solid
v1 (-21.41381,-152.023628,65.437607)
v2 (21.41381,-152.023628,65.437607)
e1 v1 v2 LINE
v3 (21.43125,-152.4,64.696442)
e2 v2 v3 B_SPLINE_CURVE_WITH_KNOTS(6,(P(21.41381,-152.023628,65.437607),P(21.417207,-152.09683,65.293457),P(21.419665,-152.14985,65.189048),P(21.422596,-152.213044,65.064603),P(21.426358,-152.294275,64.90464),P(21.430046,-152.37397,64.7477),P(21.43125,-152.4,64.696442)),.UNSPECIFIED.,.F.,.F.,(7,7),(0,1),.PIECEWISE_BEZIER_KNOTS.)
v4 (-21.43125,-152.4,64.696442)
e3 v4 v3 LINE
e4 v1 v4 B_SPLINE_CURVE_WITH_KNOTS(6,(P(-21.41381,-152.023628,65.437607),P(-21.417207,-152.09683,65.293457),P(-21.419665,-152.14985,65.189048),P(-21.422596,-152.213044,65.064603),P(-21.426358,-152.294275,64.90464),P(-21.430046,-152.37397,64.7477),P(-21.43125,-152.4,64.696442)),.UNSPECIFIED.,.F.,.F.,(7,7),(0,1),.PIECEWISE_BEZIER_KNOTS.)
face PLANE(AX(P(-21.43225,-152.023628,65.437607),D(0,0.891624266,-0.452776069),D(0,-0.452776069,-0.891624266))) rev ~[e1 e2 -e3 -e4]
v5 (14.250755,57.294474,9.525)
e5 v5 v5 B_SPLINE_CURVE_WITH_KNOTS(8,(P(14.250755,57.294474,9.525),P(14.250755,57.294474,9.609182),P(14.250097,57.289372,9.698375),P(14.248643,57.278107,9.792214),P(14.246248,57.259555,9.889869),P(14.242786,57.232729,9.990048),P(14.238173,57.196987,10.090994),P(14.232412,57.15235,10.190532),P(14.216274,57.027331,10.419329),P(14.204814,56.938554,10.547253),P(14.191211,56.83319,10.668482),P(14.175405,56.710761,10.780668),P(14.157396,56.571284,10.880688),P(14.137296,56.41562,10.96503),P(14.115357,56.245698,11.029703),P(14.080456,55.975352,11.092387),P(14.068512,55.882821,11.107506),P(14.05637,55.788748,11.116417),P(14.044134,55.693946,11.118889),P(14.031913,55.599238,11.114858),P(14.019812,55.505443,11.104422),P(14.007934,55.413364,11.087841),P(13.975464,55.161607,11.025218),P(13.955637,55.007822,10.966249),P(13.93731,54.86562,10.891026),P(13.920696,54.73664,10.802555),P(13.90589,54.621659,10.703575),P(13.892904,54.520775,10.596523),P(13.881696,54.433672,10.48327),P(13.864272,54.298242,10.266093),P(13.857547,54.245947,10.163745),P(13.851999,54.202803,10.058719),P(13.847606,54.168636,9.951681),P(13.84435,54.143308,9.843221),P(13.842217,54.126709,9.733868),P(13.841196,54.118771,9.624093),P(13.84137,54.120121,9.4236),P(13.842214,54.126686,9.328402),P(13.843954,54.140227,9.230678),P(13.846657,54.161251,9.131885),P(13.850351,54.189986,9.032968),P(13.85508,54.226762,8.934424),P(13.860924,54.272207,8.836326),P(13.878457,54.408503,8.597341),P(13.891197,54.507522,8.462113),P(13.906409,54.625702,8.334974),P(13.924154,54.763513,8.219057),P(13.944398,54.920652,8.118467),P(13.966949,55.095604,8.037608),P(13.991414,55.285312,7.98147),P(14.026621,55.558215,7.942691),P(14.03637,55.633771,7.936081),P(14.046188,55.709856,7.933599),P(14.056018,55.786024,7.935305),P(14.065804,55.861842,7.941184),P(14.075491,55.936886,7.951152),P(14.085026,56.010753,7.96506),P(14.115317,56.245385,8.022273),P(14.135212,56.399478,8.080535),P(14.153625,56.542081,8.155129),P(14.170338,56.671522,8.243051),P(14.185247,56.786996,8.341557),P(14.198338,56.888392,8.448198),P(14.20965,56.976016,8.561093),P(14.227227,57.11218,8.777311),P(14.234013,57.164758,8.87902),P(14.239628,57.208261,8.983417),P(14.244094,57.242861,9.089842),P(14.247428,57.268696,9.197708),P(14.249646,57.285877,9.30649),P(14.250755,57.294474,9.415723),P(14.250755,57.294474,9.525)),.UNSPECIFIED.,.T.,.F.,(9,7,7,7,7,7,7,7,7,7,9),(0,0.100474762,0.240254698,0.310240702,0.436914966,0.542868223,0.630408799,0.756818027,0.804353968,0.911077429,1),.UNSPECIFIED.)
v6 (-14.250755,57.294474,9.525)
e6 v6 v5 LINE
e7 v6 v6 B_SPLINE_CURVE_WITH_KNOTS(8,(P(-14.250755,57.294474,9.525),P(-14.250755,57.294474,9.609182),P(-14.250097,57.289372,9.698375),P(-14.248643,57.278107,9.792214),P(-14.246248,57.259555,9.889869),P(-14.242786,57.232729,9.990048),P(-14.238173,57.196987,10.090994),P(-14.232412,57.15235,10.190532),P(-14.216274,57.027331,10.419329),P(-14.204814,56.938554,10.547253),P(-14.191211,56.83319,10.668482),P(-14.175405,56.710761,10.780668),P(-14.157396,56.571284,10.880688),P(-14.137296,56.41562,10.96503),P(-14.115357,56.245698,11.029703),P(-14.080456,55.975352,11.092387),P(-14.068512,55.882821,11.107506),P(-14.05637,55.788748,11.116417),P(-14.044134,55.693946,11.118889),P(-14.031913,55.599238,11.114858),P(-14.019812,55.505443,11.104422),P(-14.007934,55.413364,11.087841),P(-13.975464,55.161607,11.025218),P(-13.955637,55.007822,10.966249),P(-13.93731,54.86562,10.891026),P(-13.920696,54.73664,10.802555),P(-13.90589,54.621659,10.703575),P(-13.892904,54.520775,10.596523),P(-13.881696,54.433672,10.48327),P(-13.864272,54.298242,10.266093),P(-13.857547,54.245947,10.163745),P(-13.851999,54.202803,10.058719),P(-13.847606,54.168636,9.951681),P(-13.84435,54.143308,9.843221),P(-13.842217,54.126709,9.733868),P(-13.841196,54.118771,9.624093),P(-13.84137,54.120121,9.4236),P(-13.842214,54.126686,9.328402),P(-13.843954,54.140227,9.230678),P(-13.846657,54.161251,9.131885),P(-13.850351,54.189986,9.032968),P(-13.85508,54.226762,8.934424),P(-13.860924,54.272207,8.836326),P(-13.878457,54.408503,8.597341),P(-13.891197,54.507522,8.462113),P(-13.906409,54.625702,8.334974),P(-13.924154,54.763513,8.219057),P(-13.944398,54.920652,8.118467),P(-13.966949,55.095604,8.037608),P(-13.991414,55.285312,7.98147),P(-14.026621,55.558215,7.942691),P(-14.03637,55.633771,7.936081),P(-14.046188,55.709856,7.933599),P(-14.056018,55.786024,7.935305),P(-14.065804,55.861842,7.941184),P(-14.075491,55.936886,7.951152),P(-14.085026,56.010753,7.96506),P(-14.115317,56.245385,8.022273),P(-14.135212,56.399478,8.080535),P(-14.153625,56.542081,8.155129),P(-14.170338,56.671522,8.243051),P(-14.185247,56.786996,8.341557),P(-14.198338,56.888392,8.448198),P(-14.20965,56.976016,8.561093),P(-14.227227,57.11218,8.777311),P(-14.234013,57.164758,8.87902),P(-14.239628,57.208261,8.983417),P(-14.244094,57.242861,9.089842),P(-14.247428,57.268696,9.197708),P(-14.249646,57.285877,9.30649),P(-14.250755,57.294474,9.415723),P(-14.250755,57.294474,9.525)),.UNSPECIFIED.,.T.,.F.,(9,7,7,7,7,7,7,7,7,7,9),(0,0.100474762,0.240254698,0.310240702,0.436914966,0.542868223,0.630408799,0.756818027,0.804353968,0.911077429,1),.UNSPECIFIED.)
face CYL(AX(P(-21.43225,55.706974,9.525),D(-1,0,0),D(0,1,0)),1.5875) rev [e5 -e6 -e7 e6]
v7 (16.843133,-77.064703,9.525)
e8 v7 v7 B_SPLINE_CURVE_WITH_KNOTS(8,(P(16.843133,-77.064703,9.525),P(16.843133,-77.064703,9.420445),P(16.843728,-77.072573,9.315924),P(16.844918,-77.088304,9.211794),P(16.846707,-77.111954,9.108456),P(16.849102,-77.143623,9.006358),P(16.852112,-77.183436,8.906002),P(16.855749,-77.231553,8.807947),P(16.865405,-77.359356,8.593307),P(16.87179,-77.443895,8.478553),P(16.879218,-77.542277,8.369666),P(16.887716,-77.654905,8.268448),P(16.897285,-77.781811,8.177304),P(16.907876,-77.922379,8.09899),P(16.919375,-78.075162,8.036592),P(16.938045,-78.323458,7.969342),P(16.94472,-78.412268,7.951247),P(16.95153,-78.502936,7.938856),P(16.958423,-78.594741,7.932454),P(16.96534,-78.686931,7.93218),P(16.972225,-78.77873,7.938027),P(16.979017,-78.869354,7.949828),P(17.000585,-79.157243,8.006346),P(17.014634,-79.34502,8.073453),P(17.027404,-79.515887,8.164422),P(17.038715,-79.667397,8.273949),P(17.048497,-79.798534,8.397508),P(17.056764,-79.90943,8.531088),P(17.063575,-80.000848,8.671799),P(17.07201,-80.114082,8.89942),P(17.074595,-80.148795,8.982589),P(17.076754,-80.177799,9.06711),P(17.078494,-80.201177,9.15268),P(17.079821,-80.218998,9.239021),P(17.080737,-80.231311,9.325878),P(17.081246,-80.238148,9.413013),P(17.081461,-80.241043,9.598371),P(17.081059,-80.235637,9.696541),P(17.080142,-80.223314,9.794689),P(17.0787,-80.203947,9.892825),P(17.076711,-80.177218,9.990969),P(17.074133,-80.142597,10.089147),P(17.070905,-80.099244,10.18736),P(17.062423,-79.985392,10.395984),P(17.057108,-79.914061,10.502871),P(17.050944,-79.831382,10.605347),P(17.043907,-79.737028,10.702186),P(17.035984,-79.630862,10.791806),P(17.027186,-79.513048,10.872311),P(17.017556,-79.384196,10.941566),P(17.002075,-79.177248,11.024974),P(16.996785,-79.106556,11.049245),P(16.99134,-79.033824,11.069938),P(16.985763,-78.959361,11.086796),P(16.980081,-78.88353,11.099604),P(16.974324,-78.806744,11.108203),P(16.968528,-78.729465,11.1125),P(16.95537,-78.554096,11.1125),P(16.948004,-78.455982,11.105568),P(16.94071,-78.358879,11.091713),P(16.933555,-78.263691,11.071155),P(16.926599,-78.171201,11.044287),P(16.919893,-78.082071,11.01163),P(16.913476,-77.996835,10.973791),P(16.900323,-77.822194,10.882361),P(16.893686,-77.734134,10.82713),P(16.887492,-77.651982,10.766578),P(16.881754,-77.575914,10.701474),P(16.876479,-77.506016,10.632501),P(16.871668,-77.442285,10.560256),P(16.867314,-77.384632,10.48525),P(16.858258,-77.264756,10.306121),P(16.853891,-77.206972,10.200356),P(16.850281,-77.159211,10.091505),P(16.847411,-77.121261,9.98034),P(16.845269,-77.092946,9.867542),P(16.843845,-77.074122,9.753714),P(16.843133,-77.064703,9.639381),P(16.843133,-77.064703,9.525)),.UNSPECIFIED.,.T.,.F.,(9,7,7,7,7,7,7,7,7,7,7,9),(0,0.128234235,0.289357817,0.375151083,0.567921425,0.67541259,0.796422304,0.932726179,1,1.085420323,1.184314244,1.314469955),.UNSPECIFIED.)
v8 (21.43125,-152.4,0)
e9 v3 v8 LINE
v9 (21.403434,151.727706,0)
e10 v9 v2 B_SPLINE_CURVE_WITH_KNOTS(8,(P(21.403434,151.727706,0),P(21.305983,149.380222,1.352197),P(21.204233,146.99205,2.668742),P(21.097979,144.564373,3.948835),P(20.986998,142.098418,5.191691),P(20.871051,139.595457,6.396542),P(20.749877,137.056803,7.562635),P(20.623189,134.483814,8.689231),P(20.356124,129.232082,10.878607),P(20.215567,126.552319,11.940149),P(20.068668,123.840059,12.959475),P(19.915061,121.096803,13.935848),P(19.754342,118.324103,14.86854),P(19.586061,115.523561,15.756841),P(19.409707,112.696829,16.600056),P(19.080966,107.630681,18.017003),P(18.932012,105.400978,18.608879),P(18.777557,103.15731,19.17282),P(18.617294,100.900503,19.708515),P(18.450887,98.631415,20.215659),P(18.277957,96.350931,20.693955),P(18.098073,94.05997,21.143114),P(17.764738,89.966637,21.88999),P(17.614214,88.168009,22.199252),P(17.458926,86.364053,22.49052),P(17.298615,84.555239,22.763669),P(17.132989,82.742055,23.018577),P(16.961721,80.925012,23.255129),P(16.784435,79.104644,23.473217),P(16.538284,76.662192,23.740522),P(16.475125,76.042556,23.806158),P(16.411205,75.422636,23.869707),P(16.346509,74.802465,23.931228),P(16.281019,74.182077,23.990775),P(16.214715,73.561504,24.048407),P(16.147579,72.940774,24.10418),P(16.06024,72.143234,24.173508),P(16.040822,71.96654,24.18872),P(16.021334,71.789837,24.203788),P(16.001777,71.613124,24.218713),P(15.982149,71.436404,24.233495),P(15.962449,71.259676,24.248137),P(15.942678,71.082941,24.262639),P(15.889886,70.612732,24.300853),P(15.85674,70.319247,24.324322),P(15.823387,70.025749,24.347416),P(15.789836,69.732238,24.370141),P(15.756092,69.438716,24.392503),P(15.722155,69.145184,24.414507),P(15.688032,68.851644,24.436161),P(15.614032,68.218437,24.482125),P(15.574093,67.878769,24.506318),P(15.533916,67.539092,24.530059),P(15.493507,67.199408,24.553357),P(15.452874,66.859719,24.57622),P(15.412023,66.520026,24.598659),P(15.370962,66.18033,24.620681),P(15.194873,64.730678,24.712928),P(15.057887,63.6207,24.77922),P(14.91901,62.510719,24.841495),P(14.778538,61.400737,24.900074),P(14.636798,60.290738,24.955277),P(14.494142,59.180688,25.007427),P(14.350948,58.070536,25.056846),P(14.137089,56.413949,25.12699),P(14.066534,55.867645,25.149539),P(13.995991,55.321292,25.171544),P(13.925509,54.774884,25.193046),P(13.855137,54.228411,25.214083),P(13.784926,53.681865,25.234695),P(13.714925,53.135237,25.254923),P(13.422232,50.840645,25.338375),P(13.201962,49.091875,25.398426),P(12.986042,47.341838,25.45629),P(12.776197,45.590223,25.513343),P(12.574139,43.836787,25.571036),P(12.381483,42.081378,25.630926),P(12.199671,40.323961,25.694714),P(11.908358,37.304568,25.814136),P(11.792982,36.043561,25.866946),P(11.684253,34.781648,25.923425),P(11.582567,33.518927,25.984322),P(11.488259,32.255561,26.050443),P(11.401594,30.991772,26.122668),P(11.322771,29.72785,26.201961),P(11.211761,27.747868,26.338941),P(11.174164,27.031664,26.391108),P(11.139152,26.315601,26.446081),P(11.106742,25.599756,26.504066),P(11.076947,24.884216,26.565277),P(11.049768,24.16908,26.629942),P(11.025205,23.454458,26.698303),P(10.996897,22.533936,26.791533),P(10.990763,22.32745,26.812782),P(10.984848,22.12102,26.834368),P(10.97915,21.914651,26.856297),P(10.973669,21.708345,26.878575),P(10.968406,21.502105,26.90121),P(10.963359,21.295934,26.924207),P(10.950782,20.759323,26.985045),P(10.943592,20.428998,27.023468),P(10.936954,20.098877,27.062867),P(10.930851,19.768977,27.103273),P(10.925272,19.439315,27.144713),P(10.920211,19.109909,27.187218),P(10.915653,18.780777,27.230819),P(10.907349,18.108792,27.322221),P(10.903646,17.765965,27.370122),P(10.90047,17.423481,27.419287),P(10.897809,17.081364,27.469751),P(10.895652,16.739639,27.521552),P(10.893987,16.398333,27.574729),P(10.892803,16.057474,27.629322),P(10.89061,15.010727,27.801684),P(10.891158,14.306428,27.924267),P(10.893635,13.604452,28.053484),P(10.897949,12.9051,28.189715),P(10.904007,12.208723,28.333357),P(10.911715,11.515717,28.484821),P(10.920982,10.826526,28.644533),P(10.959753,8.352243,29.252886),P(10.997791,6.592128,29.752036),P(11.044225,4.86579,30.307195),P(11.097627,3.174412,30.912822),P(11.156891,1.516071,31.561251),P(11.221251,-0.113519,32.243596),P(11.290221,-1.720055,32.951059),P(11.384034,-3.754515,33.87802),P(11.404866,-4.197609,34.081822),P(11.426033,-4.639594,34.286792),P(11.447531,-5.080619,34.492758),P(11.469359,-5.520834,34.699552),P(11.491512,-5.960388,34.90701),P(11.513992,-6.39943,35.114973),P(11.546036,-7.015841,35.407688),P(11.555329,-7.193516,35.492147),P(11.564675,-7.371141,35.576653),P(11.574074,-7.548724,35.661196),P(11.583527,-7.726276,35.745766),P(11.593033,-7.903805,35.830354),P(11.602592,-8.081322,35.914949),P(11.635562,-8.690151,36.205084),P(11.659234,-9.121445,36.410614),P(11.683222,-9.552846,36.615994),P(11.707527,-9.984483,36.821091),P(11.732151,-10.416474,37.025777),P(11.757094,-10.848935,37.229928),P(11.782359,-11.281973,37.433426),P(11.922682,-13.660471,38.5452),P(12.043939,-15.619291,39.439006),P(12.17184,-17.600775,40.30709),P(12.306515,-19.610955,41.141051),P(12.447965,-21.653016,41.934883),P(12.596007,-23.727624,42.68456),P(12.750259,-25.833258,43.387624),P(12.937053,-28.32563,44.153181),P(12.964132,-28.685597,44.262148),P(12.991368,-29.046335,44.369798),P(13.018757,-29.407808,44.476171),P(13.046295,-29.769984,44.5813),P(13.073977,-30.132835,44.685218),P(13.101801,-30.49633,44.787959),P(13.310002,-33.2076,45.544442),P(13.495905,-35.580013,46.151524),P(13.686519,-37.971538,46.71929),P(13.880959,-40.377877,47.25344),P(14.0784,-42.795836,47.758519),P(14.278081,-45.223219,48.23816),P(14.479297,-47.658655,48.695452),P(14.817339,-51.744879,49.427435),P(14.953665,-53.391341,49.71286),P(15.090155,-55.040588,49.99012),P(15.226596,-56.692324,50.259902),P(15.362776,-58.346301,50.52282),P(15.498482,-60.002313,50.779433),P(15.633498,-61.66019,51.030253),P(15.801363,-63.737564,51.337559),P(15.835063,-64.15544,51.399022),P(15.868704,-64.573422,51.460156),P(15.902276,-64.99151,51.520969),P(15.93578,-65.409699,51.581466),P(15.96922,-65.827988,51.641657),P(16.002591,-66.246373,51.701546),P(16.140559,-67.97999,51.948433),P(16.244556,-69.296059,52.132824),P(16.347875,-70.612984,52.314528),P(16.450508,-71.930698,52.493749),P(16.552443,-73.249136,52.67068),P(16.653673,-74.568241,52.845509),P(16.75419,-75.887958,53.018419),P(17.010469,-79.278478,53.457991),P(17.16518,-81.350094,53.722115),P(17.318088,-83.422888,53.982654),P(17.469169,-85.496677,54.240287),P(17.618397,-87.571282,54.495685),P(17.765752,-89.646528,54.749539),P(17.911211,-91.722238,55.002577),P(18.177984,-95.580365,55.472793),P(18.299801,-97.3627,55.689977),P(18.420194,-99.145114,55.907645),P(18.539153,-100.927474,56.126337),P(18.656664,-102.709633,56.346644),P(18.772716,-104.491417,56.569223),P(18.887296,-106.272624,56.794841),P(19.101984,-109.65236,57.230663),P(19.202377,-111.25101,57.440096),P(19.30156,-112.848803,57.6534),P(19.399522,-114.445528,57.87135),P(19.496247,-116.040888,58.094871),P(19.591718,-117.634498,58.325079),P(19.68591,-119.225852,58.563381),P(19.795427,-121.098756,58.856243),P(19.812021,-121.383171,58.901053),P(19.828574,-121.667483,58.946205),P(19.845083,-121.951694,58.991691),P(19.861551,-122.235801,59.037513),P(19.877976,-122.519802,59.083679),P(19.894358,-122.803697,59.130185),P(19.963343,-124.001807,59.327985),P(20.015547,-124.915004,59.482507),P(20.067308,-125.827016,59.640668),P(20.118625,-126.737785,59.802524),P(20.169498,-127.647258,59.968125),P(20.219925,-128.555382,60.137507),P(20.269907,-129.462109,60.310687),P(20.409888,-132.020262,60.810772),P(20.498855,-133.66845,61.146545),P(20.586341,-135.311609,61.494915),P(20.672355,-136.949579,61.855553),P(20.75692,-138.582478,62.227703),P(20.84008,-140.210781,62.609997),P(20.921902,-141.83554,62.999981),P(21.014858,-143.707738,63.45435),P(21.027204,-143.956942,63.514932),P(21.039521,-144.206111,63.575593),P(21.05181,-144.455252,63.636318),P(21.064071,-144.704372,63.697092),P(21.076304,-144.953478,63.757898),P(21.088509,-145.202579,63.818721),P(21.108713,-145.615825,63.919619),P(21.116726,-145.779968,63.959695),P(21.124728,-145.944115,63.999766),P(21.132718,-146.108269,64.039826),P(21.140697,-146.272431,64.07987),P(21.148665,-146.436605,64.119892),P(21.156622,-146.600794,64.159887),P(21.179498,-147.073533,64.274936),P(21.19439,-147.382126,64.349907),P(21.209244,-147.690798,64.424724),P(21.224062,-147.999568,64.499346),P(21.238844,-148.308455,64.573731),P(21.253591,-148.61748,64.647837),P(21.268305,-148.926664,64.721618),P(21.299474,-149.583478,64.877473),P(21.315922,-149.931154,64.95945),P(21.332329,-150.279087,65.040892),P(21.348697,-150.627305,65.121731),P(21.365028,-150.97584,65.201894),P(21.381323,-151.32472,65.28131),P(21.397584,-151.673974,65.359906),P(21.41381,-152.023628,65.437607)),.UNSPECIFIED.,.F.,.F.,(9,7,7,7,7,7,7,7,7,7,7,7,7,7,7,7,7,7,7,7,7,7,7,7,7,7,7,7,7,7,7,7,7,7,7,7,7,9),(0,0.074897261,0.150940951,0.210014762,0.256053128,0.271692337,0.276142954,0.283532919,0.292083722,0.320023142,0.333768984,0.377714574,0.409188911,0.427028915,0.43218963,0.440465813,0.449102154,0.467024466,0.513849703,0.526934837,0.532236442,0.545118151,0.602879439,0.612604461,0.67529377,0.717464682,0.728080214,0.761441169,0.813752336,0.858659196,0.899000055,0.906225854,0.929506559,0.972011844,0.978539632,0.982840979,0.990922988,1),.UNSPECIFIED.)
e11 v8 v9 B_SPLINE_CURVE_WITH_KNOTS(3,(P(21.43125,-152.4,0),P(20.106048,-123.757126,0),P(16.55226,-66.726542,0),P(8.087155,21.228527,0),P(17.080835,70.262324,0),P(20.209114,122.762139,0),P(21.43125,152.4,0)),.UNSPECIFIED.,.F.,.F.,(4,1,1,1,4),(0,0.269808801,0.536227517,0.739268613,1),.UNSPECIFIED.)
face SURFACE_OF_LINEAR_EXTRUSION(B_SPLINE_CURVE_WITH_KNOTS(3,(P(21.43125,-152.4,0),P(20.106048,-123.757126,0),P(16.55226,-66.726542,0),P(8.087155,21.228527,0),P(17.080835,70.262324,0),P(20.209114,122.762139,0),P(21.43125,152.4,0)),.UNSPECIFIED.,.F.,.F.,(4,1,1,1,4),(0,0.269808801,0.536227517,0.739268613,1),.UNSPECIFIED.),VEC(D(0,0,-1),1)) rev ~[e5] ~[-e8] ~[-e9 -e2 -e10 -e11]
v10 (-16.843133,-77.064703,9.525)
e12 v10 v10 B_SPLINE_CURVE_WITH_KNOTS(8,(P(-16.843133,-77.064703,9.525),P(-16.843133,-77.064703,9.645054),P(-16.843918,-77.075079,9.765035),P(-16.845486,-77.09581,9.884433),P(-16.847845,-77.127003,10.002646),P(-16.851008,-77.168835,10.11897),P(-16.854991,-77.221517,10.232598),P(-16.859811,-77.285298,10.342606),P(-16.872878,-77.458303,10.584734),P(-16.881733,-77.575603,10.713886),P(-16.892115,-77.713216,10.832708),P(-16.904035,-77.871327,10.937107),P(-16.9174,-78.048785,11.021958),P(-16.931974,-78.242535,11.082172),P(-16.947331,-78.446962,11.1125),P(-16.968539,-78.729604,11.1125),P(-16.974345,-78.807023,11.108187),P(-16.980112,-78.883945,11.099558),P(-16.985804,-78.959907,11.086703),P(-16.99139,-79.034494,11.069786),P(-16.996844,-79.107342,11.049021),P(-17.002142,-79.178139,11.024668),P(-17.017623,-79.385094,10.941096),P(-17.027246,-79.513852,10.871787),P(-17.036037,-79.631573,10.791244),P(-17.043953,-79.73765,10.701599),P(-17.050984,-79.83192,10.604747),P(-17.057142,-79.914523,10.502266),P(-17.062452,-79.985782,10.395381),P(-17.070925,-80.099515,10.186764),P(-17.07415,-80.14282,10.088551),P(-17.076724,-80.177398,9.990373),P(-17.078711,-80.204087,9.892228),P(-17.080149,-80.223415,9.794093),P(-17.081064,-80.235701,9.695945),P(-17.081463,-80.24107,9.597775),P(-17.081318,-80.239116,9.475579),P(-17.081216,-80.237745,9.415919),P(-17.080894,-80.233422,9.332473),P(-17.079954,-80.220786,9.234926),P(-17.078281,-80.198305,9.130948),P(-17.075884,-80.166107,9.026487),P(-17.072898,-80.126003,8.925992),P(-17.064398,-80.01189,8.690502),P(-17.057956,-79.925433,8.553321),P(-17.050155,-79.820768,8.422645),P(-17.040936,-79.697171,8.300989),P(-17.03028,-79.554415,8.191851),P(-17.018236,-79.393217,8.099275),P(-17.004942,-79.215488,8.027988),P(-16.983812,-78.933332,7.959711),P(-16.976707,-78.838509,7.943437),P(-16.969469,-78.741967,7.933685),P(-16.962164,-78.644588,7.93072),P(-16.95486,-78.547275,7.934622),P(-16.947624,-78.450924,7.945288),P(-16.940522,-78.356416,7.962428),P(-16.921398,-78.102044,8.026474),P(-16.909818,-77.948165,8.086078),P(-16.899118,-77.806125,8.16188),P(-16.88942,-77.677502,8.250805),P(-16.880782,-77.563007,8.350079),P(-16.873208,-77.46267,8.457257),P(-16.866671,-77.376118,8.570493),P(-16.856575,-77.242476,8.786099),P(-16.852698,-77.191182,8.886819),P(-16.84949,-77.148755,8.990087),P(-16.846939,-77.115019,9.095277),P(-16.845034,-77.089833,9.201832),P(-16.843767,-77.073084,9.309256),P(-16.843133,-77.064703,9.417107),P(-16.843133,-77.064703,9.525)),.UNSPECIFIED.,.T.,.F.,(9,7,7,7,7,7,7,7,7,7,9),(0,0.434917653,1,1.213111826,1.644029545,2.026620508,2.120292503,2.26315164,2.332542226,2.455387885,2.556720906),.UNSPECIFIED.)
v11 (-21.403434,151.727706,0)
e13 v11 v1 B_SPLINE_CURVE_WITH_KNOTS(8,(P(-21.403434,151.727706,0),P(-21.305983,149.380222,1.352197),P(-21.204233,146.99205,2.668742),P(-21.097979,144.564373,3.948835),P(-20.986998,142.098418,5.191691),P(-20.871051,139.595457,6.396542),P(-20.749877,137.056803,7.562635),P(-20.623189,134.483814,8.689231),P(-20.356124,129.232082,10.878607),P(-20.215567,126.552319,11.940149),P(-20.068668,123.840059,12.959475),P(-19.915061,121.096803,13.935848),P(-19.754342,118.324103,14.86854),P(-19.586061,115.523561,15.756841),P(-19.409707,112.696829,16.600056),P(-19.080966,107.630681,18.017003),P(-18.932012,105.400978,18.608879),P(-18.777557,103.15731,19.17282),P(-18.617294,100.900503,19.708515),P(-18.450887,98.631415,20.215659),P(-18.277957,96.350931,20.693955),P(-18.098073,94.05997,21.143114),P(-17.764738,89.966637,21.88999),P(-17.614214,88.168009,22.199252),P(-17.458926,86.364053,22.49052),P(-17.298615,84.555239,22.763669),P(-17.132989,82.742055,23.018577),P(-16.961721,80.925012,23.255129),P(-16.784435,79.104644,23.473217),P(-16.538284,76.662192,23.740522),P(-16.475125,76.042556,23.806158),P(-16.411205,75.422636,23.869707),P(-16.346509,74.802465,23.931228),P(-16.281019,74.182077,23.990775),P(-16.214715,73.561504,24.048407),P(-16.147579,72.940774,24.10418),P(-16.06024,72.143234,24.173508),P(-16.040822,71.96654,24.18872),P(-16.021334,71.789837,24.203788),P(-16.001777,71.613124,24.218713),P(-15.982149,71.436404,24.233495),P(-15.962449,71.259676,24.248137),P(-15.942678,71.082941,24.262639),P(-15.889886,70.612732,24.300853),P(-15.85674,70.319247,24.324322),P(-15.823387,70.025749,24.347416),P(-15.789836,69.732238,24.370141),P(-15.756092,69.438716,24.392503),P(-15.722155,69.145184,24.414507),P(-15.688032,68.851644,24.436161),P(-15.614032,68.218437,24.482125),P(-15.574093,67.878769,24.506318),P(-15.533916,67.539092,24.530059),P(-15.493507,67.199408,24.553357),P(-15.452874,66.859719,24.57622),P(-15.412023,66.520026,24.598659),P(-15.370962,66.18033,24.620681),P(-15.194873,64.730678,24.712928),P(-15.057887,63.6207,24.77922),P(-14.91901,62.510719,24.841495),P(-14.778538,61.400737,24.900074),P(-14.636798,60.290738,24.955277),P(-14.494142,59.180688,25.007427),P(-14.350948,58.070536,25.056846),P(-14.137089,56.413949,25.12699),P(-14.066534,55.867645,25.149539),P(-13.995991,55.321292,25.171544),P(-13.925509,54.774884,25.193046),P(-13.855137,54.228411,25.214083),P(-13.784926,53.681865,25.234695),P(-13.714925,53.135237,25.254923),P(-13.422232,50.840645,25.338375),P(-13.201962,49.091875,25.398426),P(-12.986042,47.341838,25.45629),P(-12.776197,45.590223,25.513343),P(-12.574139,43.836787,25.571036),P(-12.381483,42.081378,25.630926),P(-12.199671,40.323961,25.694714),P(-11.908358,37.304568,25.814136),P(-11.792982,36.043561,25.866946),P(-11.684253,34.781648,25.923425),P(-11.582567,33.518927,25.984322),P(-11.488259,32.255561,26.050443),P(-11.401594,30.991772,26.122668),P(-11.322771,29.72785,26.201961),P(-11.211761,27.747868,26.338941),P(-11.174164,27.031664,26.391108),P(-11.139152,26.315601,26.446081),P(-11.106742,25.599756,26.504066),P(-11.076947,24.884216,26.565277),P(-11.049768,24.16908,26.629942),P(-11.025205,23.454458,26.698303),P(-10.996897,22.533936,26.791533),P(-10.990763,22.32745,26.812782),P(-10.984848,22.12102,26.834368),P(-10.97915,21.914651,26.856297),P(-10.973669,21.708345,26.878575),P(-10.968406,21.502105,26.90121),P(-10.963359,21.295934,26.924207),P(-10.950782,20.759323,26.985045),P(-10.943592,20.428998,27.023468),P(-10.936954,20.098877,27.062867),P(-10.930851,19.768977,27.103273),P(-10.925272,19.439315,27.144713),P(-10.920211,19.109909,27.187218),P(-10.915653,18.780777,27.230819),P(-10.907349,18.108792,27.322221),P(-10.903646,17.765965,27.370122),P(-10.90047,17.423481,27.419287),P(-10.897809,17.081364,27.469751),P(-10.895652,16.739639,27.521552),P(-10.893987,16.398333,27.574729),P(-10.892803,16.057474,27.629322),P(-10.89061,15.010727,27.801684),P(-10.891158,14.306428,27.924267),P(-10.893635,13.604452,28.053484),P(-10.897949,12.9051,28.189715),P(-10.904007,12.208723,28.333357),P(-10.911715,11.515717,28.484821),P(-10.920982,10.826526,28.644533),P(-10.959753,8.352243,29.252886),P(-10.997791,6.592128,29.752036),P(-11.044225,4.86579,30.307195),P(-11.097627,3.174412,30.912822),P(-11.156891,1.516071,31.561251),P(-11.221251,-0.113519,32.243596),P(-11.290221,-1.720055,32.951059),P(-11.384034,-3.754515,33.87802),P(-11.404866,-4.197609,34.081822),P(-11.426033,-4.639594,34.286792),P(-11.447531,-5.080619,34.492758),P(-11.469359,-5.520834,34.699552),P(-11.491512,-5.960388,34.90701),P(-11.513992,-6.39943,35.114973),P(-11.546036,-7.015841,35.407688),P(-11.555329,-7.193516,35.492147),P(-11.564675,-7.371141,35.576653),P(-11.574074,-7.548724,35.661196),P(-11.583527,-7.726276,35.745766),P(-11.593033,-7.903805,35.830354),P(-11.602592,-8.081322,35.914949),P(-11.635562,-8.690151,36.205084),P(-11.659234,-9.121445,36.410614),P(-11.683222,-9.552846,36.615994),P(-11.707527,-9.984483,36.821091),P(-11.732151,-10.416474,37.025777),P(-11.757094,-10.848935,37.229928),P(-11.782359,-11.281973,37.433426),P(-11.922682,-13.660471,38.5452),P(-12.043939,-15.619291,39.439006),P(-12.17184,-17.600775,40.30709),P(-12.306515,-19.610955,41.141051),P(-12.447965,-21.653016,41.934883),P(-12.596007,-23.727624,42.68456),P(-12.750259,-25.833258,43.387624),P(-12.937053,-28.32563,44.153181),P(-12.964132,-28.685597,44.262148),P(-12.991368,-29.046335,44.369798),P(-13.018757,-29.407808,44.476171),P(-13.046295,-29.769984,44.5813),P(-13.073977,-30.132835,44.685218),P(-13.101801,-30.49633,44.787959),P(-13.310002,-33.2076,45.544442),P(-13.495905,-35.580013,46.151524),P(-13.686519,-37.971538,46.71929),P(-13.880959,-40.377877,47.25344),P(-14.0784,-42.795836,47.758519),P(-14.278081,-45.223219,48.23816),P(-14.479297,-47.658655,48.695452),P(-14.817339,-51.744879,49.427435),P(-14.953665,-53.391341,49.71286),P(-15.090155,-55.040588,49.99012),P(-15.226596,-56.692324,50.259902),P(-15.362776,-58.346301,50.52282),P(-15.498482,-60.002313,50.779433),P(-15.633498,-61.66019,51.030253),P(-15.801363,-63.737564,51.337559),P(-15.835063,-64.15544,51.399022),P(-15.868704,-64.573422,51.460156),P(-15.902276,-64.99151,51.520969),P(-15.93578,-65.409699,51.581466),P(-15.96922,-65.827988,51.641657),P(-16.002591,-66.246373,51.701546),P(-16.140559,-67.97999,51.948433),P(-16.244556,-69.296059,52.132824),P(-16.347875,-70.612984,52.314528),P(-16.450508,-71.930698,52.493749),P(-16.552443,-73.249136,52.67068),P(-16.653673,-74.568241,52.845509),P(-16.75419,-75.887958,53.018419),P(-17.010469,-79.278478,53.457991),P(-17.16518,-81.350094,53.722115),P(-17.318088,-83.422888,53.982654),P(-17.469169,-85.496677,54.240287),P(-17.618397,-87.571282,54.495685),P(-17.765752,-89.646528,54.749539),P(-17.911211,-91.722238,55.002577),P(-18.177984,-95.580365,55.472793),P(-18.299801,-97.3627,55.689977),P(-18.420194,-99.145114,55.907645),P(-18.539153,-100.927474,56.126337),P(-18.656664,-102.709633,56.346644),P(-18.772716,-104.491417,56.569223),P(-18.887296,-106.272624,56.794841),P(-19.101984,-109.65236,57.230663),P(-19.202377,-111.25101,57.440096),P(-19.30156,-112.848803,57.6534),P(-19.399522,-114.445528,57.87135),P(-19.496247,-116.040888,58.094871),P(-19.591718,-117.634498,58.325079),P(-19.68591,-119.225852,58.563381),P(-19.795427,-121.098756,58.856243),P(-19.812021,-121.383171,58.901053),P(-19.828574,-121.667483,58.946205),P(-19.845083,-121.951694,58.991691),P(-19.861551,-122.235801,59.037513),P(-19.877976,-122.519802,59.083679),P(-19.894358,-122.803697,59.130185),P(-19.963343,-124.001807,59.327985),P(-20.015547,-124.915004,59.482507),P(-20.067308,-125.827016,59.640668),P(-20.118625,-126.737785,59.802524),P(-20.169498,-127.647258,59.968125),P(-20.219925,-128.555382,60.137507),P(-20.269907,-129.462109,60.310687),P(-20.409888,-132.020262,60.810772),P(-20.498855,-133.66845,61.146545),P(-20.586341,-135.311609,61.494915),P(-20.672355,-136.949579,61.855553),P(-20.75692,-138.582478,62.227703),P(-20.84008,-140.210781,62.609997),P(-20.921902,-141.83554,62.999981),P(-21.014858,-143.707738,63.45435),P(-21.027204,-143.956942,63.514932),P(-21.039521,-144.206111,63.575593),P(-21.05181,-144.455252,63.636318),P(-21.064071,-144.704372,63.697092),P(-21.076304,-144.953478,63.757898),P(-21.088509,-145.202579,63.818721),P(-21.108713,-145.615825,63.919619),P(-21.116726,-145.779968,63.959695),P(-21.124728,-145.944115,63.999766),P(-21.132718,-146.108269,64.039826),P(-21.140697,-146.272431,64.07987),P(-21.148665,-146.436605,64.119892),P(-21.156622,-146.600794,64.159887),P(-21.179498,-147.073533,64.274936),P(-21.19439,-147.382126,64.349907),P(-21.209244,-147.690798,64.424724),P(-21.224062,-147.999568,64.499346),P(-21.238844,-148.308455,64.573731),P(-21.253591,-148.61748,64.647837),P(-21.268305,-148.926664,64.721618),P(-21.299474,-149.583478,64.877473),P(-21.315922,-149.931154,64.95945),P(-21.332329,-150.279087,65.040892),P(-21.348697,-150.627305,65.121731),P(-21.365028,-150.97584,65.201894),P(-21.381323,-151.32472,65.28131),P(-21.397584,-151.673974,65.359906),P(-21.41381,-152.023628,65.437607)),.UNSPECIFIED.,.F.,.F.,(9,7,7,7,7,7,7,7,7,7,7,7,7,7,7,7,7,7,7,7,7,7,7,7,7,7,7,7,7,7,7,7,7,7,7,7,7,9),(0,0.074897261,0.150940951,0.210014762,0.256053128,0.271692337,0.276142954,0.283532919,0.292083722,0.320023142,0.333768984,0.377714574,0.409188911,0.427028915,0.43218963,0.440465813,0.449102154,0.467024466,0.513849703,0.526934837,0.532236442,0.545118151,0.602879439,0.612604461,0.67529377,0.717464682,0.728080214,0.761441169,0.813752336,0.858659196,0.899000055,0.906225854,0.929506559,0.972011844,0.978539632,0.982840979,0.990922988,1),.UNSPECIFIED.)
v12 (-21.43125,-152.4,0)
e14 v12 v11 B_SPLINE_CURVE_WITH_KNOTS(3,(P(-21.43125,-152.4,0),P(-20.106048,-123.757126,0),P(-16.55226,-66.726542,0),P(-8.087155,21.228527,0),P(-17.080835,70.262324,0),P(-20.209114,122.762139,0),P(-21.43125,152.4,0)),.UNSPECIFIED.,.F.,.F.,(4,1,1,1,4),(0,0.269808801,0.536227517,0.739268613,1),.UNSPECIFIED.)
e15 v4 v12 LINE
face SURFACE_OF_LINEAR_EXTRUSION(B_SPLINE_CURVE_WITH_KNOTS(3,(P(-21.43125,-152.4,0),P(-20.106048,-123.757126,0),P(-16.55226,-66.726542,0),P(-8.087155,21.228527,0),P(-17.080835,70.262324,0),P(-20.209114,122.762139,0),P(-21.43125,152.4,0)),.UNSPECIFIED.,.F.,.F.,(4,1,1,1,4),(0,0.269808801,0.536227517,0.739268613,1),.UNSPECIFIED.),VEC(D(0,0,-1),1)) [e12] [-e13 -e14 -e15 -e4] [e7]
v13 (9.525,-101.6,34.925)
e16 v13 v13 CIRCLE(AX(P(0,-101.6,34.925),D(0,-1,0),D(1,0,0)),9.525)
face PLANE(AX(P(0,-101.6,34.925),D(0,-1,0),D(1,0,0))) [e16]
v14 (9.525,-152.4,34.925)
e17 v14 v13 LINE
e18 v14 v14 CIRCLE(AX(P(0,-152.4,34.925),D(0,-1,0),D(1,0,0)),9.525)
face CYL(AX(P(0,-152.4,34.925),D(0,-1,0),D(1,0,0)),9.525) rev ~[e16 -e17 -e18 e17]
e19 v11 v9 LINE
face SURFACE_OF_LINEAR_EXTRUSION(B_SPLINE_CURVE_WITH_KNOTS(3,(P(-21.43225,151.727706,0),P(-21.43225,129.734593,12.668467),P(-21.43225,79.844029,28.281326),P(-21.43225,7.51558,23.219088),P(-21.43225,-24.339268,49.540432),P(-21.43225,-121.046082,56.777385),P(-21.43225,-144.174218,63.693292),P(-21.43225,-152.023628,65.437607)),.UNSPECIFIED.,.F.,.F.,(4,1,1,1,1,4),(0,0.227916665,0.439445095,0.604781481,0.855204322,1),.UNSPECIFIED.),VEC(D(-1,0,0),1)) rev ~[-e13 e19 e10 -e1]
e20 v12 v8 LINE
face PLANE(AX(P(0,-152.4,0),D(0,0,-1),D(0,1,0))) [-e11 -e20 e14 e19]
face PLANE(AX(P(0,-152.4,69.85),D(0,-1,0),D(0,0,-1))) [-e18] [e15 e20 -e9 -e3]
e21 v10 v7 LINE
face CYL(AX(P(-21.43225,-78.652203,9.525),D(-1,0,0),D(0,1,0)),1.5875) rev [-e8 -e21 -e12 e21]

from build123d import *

# Parameters (mm, degrees)
F1_DEPTH = 21.43125
F2_R     = 9.525
F3_DEPTH = 50.8
F7_START = -21.43225
F6_R     = 1.5875
F7_DEPTH = 42.8645
F8_DEPTH = 65.4386075672


with BuildPart() as f1:
    # F0 (on Right) → F1 (new body, symmetric)
    with BuildSketch(Plane.YZ):
        Polygon((-152.4, 69.85), (-152.4, 0), (152.4, 0), (152.4, 19.05), align=None)
    extrude(amount=F1_DEPTH, both=True)

    # F2 (on face) → F3 (cut)
    with BuildSketch(Plane.XZ.offset(152.4)):
        with Locations((0, 34.925)):
            Circle(F2_R)
    extrude(amount=-F3_DEPTH, mode=Mode.SUBTRACT)

    # F6 (on Right) → F7 (intersect)
    with BuildSketch(Plane.YZ.offset(F7_START)):
        with BuildLine():
            Line((174.2178350687, -16.3004118949), (151.7277061939, 0))
            add(Edge.make_bspline(
                [(151.7277061939, 0), (129.7345931029, 12.6684667422), (79.8440287512, 28.2813260519), (7.5155798195, 23.2190884958), (-24.3392684921, 49.5404318303), (-121.0460820318, 56.7773848647), (-144.1742181778, 63.693292439), (-152.0236283541, 65.4376074672)],
                knots=[0, 0, 0, 0, 0.2279166648, 0.439445095, 0.604781481, 0.8552043223, 1, 1, 1, 1], degree=3))
            Line((-152.0236283541, 65.4376074672), (-173.6085563898, 22.9317266494))
            Line((-173.6085563898, 22.9317266494), (-173.6085563898, -33.5242785513))
            Line((-173.6085563898, -33.5242785513), (174.2178350687, -16.3004118949))
        make_face()
        with Locations((-78.652203083, 9.525)):
            Circle(F6_R, mode=Mode.SUBTRACT)
        with Locations((55.7069741189, 9.525)):
            Circle(F6_R, mode=Mode.SUBTRACT)
    extrude(amount=F7_DEPTH, mode=Mode.INTERSECT)

    # F5 (on face) → F8 (cut, through all)
    with BuildSketch(Plane(origin=(0, 0, 0), x_dir=(1, 0, 0), z_dir=(0, 0, -1))):
        with BuildLine():
            add(Edge.make_bspline(
                [(-21.43125, 152.4), (-20.1060480027, 123.7571255084), (-16.5522601781, 66.7265424738), (-8.0871548438, -21.2285272096), (-17.0808352286, -70.262324058), (-20.2091141482, -122.7621387002), (-21.43125, -152.4)],
                knots=[0, 0, 0, 0, 0.2698088007, 0.5362275171, 0.7392686135, 1, 1, 1, 1], degree=3))
            Line((-21.43125, 152.4), (-21.43125, -152.4))
        make_face()
        with BuildLine():
            Line((21.43125, -152.4), (21.43125, 152.4))
            add(Edge.make_bspline(
                [(21.43125, 152.4), (20.1060480027, 123.7571255084), (16.5522601781, 66.7265424738), (8.0871548438, -21.2285272096), (17.0808352286, -70.262324058), (20.2091141482, -122.7621387002), (21.43125, -152.4)],
                knots=[0, 0, 0, 0, 0.2698088007, 0.5362275171, 0.7392686135, 1, 1, 1, 1], degree=3))
        make_face()
    extrude(amount=-F8_DEPTH, mode=Mode.SUBTRACT)


solid = f1.part
